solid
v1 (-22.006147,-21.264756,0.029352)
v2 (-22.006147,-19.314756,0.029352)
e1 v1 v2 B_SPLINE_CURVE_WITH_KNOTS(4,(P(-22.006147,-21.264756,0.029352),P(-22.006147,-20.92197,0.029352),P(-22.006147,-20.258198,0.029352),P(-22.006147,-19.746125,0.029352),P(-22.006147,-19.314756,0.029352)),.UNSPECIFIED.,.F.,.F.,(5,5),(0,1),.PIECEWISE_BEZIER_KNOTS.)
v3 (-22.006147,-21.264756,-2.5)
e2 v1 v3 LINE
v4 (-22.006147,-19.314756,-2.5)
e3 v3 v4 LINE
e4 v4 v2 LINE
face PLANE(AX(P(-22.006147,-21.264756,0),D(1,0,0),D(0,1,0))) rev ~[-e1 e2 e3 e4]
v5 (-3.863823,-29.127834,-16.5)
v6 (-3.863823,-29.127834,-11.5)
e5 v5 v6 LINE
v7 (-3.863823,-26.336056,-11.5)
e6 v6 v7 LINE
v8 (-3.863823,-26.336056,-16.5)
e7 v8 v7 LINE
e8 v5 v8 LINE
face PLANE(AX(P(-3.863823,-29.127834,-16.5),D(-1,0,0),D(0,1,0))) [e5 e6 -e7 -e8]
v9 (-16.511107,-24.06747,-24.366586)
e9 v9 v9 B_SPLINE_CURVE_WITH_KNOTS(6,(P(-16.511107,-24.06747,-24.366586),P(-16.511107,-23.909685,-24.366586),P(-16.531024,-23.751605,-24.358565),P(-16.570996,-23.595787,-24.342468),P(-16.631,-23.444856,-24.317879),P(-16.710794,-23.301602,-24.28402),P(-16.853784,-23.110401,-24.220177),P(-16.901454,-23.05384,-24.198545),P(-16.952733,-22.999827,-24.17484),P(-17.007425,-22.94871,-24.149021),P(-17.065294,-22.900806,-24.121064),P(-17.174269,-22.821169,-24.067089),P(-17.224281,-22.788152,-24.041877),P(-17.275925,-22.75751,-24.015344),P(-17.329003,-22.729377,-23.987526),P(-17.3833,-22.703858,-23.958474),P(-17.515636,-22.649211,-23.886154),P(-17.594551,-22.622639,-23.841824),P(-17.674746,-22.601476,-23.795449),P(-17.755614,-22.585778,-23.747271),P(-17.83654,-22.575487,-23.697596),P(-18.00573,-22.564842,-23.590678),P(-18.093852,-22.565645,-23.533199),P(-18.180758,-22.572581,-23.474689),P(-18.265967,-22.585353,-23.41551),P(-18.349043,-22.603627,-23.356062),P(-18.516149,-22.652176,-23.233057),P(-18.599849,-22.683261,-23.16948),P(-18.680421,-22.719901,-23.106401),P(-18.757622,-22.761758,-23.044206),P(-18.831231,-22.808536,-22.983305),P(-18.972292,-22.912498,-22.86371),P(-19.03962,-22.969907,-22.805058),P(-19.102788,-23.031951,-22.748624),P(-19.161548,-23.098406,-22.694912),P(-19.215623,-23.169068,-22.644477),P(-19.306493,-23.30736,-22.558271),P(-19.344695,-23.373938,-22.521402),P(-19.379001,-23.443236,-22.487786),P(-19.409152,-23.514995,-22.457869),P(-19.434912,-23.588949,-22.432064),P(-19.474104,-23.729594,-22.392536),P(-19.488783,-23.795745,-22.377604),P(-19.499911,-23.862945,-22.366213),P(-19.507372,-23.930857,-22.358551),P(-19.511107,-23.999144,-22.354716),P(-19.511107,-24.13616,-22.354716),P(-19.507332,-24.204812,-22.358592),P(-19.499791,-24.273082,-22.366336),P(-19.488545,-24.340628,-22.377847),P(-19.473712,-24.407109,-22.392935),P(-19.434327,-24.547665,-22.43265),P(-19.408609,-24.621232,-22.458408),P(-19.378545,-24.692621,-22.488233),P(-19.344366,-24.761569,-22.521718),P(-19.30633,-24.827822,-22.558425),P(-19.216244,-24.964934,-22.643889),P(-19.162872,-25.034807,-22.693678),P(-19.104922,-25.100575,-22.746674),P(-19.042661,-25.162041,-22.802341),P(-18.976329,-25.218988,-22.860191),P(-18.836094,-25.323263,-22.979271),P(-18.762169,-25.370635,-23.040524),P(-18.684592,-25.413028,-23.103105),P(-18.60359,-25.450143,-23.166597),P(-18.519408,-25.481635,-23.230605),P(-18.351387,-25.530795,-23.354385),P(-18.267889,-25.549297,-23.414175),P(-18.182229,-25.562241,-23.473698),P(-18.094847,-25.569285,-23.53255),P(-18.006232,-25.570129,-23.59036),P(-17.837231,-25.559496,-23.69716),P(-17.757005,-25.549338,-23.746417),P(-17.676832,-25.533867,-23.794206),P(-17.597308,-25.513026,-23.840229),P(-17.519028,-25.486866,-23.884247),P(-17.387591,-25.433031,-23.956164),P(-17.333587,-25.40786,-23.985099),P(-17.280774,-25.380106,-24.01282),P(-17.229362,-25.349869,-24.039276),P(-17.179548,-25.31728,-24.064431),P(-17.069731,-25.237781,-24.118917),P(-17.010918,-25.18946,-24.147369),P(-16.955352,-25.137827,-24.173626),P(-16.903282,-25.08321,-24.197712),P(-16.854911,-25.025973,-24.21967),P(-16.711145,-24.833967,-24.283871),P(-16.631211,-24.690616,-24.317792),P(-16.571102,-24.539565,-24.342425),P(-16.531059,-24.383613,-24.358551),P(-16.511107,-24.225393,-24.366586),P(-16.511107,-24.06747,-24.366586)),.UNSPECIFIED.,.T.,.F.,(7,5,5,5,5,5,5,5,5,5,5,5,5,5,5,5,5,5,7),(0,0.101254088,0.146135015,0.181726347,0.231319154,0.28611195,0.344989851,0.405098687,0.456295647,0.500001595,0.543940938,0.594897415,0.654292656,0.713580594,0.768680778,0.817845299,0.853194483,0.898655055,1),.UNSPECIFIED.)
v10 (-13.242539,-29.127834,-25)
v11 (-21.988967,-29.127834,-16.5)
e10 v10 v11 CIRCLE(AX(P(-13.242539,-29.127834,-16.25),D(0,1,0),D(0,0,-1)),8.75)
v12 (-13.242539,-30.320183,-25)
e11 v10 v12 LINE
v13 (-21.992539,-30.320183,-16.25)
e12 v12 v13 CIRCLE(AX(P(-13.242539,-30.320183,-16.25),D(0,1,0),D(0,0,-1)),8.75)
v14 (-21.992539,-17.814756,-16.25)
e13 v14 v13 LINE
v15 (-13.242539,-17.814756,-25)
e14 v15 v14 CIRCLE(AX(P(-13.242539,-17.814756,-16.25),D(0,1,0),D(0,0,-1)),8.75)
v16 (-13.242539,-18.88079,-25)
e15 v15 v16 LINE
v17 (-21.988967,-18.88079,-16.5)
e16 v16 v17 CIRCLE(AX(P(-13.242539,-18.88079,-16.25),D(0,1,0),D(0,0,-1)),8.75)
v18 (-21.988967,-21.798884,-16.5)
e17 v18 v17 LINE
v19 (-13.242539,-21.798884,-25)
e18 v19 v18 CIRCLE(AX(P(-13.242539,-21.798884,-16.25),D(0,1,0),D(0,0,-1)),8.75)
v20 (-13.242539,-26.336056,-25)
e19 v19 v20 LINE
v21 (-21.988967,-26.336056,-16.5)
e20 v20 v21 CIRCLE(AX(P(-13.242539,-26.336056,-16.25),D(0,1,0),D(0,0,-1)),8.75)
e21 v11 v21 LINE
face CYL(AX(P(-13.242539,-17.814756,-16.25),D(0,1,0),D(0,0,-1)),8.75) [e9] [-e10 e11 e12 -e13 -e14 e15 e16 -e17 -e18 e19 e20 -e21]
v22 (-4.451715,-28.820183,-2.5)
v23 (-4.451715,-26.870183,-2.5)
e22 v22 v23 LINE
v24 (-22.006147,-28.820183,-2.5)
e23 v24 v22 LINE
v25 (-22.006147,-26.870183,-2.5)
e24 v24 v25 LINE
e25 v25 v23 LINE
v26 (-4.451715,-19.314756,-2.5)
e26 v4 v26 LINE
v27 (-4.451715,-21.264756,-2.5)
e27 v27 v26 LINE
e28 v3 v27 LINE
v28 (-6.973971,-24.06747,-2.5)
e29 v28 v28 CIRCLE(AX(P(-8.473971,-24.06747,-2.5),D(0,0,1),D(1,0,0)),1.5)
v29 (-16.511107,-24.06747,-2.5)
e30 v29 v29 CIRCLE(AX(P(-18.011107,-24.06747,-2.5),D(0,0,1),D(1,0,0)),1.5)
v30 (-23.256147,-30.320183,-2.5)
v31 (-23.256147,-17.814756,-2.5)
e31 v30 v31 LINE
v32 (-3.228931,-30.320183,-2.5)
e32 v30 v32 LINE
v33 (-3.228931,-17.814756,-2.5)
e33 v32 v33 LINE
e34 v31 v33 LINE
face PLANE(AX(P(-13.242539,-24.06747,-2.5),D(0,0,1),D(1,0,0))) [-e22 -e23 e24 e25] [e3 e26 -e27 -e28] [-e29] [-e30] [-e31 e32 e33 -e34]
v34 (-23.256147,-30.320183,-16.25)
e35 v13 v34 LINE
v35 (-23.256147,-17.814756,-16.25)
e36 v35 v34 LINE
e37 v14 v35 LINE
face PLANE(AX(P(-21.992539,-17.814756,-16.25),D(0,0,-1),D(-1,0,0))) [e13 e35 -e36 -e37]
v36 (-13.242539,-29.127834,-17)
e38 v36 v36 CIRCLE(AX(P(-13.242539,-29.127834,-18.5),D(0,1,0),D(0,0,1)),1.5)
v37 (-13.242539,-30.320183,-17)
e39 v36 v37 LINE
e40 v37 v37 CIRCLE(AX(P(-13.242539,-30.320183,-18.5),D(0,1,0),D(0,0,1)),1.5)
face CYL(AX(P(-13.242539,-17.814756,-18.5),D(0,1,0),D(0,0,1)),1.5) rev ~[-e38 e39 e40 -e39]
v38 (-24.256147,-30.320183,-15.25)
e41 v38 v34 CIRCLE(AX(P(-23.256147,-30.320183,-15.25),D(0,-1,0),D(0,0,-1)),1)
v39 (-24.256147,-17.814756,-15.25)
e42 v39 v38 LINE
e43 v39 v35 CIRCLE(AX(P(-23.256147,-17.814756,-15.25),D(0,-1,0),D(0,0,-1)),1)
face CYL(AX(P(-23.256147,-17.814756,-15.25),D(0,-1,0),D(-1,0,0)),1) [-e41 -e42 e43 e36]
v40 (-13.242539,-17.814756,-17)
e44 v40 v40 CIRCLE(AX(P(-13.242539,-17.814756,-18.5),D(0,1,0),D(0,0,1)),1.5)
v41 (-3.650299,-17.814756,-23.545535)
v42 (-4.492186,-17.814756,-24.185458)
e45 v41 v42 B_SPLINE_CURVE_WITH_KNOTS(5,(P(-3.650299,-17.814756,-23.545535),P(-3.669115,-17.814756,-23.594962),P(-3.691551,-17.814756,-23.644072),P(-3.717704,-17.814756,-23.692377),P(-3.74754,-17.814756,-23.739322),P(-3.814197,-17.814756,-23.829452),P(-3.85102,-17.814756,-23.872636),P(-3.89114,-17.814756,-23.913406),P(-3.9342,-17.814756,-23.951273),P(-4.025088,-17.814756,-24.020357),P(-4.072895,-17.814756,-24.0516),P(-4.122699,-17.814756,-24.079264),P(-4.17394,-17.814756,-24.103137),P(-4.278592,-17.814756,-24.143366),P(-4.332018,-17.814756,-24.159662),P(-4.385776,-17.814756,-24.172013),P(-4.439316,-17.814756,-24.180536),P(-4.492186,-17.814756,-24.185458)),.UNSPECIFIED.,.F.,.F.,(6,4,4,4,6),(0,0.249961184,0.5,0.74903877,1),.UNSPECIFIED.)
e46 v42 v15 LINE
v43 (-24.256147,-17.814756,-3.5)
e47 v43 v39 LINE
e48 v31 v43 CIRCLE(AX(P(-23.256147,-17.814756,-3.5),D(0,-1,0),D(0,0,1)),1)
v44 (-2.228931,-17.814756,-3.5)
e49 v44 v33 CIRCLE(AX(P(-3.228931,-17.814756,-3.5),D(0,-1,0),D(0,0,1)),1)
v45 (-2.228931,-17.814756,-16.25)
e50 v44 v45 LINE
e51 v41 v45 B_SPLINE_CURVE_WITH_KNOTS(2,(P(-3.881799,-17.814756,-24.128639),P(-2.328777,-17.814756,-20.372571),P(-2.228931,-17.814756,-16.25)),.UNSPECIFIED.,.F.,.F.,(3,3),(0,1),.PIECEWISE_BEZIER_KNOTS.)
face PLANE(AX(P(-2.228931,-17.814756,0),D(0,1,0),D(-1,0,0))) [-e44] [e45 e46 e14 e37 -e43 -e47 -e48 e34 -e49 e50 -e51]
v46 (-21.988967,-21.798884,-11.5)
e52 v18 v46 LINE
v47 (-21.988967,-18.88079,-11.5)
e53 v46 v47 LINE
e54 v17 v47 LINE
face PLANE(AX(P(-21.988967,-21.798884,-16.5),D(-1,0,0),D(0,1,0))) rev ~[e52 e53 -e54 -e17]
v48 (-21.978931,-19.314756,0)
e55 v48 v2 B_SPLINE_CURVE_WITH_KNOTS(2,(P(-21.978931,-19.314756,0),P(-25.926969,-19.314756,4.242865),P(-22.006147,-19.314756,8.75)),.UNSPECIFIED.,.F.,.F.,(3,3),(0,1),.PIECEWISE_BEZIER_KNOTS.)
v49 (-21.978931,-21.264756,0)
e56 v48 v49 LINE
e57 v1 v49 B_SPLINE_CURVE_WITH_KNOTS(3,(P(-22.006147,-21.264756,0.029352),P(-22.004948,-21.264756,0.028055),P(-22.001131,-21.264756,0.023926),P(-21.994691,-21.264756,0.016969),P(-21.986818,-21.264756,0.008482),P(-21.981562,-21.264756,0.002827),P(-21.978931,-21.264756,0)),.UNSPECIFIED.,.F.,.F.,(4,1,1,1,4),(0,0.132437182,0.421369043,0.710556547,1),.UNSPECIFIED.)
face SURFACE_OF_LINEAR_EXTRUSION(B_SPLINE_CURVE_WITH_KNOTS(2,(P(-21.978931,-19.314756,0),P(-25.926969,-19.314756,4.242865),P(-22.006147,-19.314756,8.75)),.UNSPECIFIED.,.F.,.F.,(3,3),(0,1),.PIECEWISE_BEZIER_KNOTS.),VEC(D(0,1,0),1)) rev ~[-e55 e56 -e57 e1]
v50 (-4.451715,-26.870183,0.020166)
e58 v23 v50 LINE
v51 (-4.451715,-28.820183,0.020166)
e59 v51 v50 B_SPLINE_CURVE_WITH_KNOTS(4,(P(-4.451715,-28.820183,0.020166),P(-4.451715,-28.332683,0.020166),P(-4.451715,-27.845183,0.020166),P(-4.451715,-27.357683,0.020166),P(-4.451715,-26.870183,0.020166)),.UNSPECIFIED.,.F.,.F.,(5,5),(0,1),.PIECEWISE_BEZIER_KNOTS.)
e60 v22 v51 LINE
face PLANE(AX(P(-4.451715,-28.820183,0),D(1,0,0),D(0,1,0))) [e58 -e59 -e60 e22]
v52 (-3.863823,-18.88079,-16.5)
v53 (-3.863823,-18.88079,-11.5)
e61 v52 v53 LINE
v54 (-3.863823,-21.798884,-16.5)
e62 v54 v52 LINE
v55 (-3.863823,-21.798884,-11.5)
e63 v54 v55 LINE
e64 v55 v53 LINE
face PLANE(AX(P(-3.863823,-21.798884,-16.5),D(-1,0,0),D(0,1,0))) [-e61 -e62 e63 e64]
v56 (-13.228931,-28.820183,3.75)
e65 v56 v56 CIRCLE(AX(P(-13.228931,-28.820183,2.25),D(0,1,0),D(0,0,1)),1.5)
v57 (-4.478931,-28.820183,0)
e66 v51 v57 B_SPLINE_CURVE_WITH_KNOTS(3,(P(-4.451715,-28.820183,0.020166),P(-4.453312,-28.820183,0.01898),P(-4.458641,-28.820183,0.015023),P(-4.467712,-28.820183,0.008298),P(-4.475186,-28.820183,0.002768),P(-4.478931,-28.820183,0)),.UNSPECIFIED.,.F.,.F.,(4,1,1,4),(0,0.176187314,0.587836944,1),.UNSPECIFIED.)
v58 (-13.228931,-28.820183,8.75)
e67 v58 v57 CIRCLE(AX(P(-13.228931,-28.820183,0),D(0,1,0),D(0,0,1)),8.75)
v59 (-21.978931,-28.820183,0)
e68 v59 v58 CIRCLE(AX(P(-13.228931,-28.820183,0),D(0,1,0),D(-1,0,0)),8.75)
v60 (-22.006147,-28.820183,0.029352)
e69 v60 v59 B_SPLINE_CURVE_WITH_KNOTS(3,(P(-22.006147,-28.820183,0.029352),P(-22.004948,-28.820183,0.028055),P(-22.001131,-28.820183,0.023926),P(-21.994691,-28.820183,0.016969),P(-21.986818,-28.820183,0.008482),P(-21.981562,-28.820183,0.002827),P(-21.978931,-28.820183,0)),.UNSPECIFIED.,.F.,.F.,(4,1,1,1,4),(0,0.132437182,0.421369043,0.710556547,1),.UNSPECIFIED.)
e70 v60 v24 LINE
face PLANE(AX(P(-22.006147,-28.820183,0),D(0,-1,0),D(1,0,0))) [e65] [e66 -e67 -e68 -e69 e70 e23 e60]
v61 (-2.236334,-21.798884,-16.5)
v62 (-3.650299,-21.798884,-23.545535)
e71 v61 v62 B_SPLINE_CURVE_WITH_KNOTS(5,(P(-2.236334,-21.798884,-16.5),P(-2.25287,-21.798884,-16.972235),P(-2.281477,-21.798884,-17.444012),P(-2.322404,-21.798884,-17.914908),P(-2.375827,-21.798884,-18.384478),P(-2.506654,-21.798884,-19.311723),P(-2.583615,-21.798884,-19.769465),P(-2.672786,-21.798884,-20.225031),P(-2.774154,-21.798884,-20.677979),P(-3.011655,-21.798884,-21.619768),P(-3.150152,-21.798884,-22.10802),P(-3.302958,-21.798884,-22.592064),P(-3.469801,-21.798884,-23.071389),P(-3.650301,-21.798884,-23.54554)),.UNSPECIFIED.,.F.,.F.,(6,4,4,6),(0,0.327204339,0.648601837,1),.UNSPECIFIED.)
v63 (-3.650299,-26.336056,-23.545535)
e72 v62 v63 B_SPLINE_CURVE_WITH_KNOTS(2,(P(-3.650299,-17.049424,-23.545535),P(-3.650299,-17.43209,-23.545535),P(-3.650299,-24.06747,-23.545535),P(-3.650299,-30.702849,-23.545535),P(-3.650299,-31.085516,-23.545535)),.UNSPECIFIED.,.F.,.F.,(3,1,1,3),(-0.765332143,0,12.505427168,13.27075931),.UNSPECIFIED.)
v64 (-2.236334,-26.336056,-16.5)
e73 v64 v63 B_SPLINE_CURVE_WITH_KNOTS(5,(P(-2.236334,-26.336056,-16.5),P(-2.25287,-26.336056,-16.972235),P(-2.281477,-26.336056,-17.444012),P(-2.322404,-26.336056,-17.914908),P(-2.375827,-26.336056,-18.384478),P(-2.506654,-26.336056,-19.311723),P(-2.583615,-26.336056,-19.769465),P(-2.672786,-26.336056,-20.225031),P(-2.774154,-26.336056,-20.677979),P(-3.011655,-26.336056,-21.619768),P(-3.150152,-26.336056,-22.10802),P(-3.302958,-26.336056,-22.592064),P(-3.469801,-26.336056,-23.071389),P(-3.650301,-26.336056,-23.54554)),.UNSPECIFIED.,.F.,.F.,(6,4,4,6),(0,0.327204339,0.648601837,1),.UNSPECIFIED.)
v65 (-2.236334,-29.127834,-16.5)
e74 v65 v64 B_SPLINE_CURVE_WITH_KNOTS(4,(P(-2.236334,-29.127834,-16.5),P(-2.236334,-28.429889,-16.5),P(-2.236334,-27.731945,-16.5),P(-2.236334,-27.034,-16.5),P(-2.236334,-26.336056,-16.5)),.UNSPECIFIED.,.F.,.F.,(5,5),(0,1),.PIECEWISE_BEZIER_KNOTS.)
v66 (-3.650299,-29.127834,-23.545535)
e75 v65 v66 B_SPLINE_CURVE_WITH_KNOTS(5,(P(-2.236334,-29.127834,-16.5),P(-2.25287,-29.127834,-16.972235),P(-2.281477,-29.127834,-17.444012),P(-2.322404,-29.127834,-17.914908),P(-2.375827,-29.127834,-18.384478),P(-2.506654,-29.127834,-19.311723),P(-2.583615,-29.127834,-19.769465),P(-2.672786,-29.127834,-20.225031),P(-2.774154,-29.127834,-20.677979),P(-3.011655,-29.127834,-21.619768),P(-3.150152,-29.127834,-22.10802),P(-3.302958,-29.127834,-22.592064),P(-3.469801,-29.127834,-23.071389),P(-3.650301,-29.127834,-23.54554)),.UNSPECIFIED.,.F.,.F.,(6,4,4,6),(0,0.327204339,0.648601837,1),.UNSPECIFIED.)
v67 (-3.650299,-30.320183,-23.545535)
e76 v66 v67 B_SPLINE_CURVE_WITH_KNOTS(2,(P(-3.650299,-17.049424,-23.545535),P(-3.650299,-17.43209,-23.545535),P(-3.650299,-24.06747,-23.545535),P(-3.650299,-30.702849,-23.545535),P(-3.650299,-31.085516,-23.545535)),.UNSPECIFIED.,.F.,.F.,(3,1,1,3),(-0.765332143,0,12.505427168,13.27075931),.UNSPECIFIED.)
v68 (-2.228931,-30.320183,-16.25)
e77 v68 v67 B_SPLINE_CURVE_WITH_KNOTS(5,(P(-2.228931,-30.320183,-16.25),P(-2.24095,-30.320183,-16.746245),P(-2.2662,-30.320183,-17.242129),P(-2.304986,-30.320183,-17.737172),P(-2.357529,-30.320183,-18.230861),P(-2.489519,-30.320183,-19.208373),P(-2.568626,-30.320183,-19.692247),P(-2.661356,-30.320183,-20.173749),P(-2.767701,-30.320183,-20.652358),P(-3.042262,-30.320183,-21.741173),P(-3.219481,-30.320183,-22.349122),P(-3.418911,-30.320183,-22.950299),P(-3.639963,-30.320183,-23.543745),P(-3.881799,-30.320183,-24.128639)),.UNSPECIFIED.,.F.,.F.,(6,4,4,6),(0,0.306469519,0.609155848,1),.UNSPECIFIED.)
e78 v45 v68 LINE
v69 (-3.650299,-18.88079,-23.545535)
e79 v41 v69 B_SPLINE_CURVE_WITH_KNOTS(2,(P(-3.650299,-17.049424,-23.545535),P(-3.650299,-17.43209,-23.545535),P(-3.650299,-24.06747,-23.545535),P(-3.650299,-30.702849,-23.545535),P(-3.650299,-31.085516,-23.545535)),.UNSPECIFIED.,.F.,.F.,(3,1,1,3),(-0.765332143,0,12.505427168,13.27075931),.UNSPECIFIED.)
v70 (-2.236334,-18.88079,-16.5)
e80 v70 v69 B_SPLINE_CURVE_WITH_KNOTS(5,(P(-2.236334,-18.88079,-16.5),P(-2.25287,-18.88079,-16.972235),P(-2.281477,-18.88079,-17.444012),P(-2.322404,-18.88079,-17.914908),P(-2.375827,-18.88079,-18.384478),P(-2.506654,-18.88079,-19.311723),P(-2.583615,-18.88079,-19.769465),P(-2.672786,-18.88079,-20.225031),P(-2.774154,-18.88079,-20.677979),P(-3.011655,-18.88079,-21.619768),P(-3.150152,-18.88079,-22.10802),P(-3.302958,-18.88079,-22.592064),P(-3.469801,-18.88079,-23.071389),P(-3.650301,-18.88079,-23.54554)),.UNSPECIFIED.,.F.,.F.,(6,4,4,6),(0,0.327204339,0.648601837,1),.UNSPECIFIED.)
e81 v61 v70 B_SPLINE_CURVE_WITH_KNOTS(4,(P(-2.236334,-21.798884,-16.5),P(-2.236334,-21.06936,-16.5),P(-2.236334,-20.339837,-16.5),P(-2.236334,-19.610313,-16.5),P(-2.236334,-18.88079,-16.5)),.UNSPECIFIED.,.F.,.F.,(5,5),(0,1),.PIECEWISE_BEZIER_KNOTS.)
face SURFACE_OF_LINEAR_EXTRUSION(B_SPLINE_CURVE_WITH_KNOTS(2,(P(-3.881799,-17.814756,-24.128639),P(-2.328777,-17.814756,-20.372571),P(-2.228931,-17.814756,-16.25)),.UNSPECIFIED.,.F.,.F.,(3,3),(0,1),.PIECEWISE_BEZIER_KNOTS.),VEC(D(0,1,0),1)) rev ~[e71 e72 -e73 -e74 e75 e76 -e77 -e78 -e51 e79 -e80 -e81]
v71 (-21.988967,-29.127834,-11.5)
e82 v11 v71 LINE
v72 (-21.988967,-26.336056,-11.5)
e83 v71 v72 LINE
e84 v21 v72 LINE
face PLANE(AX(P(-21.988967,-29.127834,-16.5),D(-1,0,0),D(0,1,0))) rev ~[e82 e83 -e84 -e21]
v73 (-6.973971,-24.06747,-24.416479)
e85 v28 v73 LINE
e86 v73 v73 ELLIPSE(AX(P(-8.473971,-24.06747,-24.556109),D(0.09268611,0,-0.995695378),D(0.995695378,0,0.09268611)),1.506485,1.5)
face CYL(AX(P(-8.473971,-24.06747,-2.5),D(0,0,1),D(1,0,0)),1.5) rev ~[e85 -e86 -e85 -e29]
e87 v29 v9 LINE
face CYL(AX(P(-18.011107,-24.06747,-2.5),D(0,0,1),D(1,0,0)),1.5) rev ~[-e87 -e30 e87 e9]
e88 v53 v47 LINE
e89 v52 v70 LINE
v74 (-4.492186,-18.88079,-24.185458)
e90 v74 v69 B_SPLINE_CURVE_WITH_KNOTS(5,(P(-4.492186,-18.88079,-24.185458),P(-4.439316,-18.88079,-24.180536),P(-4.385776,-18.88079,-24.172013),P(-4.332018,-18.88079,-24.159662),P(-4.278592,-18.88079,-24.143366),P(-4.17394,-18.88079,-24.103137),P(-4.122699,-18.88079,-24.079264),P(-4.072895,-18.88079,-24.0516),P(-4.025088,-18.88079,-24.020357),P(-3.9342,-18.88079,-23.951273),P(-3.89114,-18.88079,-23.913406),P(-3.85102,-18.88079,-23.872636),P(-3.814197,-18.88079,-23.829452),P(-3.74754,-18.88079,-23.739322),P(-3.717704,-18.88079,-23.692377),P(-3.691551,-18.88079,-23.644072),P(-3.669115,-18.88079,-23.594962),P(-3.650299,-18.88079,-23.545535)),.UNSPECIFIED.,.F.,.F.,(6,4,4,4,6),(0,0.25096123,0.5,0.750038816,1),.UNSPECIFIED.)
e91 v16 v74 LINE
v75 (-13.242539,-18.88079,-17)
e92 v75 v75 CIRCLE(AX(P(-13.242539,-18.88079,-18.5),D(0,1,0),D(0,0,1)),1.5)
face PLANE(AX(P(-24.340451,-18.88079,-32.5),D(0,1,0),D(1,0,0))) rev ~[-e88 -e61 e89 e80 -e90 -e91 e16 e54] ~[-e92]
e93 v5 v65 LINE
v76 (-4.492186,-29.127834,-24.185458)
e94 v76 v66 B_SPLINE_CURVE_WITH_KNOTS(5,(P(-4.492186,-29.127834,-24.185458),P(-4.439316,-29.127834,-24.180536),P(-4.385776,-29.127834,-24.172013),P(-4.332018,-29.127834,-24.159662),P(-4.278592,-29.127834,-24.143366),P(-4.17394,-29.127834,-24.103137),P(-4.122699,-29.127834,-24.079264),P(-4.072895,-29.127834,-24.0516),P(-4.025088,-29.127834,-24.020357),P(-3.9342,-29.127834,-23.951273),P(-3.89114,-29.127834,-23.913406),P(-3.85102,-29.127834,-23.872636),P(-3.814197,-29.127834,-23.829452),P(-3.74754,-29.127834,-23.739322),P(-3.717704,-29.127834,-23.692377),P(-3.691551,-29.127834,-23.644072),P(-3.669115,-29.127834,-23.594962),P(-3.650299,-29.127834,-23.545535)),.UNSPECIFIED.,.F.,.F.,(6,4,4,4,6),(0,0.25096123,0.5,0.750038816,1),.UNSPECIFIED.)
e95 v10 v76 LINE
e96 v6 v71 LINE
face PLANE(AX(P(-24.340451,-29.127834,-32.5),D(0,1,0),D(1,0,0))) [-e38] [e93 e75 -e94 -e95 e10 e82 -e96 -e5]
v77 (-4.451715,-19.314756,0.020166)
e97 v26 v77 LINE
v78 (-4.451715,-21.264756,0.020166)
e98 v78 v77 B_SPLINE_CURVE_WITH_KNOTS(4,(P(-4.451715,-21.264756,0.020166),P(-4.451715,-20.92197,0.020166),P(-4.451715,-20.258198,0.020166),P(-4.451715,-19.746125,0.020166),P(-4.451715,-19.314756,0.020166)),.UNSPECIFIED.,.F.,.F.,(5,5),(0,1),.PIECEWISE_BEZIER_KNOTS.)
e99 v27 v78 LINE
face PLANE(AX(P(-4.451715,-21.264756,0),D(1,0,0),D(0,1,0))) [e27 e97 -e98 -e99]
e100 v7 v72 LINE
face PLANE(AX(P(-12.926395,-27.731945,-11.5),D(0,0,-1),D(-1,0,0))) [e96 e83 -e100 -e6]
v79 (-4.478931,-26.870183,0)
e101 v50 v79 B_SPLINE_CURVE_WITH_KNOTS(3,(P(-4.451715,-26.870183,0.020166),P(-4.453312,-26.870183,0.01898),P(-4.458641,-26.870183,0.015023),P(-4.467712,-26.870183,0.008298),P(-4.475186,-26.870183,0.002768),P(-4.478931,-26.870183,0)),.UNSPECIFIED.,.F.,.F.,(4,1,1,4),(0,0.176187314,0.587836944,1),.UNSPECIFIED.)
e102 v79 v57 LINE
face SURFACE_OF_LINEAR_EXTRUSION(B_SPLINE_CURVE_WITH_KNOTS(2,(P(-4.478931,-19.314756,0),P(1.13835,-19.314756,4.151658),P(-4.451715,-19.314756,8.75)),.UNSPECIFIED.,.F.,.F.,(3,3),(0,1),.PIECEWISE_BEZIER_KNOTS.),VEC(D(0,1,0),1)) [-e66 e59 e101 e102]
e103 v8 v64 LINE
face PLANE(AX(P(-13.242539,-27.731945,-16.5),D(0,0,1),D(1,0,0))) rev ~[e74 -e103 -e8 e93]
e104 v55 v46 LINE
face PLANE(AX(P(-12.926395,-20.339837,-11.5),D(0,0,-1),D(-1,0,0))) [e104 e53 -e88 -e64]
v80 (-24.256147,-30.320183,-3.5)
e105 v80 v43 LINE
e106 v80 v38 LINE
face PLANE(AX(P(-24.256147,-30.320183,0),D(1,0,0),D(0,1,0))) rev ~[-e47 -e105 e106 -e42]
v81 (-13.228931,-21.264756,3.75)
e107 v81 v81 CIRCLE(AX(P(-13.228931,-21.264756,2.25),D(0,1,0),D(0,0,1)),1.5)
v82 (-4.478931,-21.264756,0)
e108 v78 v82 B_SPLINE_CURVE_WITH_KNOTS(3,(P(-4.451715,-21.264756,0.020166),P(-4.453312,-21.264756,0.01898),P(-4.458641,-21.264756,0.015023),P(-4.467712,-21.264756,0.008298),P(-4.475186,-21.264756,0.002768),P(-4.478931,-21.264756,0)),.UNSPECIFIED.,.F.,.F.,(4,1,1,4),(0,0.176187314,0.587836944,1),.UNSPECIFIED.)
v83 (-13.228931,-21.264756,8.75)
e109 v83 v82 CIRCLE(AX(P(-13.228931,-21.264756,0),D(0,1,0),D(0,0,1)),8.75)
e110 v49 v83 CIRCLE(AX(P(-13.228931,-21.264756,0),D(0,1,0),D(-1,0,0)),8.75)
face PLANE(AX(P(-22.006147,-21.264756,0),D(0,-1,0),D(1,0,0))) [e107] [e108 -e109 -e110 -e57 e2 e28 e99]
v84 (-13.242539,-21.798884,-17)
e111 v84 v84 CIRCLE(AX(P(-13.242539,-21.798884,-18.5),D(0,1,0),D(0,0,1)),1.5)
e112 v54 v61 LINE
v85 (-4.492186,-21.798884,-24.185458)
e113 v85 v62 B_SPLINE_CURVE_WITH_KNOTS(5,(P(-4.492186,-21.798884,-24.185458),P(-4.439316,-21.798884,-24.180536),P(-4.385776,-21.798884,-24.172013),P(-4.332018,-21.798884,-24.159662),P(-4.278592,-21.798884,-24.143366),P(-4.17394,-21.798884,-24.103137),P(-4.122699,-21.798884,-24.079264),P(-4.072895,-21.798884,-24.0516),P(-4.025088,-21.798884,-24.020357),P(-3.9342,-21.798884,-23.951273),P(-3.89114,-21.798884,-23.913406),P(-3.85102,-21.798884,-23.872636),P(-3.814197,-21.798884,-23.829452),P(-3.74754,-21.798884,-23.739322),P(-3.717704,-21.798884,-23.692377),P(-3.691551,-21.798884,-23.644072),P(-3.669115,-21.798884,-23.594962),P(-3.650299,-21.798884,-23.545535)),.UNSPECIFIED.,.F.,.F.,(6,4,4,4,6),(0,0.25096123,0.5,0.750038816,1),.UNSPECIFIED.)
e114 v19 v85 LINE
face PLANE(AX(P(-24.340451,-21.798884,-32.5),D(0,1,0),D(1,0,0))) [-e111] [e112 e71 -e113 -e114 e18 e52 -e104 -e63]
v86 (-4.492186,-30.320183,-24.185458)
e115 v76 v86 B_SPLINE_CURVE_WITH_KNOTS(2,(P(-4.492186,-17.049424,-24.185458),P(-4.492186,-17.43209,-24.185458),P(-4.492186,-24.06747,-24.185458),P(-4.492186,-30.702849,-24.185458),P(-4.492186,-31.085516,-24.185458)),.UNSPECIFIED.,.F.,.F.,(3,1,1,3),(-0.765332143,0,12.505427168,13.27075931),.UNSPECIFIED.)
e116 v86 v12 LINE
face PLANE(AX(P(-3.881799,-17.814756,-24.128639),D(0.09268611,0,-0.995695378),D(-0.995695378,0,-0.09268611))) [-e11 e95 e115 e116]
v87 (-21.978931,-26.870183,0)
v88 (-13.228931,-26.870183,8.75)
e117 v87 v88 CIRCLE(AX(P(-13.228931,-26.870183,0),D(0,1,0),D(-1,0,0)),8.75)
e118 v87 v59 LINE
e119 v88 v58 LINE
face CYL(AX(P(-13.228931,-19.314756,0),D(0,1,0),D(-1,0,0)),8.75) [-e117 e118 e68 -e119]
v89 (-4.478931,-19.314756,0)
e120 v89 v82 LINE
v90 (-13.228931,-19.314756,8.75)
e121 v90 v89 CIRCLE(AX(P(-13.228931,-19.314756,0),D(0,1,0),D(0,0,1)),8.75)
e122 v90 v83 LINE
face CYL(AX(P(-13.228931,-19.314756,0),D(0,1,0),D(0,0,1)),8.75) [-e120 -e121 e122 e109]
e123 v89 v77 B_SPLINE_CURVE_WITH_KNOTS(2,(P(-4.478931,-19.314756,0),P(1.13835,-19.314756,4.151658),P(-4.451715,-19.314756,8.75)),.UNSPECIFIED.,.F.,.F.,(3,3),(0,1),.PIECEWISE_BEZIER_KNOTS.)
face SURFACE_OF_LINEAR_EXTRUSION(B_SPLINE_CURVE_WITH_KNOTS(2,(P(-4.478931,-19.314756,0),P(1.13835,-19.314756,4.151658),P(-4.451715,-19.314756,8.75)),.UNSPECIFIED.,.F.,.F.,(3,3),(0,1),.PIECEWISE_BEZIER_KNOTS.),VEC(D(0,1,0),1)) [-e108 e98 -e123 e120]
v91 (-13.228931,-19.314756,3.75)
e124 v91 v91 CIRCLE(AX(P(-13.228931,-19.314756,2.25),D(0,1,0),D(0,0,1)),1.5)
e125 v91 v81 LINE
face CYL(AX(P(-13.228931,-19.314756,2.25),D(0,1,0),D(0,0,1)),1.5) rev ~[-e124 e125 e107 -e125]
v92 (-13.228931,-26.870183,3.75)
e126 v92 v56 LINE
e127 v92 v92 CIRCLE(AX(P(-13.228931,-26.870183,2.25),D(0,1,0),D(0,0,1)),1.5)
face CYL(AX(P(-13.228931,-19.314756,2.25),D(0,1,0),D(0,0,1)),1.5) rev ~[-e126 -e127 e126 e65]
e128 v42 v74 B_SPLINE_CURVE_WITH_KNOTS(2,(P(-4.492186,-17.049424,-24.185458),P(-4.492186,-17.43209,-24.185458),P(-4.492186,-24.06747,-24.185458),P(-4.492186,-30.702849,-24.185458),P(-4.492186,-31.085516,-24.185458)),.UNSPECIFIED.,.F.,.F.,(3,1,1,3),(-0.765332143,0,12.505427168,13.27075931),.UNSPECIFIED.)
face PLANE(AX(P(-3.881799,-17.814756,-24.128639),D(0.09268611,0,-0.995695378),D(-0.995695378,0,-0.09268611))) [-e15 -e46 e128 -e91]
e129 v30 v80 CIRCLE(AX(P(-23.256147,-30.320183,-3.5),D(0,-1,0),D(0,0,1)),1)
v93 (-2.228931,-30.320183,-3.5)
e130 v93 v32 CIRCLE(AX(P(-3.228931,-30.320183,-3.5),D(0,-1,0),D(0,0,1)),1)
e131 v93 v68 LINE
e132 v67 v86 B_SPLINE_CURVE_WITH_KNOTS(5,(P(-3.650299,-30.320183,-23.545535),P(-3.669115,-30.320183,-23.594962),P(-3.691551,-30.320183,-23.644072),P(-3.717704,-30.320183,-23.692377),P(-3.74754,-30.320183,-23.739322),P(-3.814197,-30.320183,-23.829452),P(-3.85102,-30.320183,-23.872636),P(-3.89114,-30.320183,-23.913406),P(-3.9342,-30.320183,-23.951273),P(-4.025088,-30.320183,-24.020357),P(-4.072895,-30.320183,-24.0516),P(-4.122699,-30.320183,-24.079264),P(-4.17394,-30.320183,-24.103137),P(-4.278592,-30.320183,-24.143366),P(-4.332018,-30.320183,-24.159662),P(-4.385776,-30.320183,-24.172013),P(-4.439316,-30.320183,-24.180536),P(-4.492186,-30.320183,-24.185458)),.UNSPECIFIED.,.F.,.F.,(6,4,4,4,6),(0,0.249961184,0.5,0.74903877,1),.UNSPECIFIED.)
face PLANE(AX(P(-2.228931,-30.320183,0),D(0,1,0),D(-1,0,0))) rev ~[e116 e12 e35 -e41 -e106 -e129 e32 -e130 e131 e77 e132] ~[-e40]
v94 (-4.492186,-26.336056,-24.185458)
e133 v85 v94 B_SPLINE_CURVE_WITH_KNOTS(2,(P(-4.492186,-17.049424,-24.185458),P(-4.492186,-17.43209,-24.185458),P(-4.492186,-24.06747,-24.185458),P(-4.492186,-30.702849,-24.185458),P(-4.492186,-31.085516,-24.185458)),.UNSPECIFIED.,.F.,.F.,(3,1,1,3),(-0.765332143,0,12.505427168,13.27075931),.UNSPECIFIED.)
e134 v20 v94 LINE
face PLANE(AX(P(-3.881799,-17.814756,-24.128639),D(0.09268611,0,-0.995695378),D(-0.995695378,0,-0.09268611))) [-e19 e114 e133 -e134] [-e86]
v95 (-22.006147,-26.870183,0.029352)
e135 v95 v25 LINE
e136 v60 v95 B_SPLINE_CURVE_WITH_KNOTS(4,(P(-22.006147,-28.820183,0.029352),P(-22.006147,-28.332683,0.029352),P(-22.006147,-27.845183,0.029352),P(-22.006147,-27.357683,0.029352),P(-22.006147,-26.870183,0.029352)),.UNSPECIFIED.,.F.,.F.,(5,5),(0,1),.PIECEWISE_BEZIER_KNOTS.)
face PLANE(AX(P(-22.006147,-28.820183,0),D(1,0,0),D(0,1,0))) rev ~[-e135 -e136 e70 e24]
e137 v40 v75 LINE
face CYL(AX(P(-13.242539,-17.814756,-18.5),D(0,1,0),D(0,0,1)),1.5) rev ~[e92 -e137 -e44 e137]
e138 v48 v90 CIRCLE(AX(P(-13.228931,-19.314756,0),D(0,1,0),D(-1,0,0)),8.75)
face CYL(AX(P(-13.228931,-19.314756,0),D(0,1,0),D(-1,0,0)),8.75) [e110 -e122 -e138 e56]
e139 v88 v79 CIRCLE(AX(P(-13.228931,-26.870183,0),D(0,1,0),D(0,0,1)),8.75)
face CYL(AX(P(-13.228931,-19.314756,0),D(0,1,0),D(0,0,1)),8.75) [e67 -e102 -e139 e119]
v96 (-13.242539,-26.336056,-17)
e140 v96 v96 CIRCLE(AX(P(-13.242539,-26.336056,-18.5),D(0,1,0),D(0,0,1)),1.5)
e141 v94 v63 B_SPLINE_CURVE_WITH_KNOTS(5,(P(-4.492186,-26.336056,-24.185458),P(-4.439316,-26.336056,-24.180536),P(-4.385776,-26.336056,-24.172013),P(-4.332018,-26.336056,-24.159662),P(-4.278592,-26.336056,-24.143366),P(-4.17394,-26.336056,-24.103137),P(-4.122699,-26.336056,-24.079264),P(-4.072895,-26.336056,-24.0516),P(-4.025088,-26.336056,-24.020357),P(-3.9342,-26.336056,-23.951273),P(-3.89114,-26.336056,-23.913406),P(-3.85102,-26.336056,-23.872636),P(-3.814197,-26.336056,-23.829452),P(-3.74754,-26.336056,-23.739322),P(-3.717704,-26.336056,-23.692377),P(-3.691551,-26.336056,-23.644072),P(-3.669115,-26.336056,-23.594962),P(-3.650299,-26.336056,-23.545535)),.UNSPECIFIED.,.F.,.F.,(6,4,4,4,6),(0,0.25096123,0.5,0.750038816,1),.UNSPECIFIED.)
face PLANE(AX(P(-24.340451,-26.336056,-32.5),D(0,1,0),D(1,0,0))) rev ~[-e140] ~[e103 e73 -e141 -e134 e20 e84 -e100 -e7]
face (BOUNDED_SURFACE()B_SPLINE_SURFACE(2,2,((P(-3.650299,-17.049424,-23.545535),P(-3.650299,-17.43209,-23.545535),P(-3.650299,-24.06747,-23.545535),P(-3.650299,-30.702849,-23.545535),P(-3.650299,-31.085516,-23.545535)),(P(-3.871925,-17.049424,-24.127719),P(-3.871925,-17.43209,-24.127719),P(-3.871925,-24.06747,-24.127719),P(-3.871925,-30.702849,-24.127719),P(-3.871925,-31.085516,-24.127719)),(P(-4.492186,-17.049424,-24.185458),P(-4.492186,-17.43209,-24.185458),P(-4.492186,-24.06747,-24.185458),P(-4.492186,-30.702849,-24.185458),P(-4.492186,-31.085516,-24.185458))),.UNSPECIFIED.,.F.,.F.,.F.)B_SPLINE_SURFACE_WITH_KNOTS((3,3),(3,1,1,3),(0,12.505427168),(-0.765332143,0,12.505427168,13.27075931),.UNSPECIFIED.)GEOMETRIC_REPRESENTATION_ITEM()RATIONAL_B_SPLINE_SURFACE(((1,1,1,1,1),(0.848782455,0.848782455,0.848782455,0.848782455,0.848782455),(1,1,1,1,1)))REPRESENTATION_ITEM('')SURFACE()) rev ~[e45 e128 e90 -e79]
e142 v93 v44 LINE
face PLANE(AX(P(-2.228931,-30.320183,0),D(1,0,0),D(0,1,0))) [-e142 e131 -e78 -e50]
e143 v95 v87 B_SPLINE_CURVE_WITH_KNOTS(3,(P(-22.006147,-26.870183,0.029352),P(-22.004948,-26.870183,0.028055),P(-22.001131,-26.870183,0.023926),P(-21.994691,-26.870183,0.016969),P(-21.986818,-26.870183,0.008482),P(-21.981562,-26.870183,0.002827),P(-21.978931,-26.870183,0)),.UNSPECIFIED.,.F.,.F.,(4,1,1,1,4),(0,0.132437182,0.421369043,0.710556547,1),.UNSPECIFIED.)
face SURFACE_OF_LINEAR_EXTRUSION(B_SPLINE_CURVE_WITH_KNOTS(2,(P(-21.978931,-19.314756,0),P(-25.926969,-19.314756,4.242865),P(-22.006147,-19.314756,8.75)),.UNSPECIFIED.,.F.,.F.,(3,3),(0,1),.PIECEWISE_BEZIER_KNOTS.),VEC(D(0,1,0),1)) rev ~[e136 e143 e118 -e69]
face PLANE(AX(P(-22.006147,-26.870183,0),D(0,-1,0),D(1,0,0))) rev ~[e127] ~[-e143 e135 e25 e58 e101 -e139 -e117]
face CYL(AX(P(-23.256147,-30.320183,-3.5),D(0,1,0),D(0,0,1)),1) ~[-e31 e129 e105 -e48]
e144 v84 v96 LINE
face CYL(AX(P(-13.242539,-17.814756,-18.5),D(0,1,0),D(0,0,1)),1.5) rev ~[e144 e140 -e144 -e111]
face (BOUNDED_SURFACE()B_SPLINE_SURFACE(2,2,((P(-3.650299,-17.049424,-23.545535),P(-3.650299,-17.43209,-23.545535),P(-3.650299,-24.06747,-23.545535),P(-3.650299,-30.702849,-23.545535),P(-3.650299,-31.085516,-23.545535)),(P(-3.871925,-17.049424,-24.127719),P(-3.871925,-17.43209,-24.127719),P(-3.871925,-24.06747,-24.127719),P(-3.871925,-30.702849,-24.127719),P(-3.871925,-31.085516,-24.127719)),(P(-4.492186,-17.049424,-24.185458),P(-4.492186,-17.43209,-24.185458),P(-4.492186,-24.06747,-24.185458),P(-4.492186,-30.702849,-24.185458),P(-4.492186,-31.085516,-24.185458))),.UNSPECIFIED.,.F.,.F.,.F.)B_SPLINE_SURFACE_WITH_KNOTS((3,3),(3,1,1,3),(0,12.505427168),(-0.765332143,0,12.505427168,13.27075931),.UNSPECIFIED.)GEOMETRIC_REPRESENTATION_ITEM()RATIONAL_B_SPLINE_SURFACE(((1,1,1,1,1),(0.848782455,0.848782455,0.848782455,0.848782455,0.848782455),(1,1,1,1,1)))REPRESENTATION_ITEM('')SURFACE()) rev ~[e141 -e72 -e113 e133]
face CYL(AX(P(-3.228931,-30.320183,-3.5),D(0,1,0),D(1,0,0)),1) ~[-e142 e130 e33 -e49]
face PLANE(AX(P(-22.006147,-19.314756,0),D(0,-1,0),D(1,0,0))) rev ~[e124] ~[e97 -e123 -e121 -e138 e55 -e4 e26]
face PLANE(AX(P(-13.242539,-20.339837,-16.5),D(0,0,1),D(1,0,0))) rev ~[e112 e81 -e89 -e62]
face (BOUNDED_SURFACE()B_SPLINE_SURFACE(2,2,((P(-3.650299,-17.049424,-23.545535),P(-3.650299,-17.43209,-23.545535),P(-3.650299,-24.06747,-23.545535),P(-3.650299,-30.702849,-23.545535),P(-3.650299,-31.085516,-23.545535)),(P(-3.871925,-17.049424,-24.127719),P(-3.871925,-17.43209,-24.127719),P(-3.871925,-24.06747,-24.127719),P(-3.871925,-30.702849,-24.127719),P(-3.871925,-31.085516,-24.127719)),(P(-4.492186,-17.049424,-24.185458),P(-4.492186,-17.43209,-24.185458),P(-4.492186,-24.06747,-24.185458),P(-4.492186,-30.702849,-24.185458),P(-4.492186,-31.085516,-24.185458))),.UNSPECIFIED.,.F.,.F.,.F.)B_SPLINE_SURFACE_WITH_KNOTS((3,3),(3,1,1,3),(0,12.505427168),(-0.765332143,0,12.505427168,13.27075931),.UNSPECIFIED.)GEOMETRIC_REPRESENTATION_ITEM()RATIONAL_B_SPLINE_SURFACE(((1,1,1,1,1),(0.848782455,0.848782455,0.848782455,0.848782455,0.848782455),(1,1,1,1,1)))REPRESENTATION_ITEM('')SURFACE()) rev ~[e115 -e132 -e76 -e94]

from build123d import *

# Parameters (mm, degrees)
SKETCH2_W             = 17.554431489
SKETCH2_H             = 1.95
BOSS_EXTRUDE1_DEPTH   = 8.75
BOSS_EXTRUDE1_2_DEPTH = 8.75
CUT_EXTRUDE1_DEPTH    = 26.518349076
SKETCH4_W             = 22.027215745
SKETCH4_H             = 12.505427167
BOSS_EXTRUDE2_DEPTH   = 25
SKETCH5_R             = 1.5
CUT_EXTRUDE2_DEPTH    = 12
SKETCH6_W             = 22.027215745
SKETCH6_H             = 12.505427167
SKETCH6_W_2           = 17.554431489
SKETCH6_H_2           = 1.95
CUT_EXTRUDE3_DEPTH    = 2.5
SKETCH7_R             = 1.5
CUT_EXTRUDE4_DEPTH    = 13
SKETCH8_R             = 1.5
CUT_EXTRUDE5_DEPTH    = 28
FILLET3_R             = 1
SKETCH9_W             = 22.195824916
SKETCH9_H             = 2.918094069
SKETCH9_H_2           = 2.791777891
CUT_EXTRUDE6_DEPTH    = 16
SKETCH10_W            = 18.125143393
SKETCH10_H            = 2.791777891
SKETCH10_H_2          = 2.918094069
CUT_EXTRUDE7_DEPTH    = 5


with BuildPart() as part:
    # Sketch2 → Boss-Extrude1 (new body)
    with BuildSketch(Plane.XY):
        with Locations((-13.228930986, -27.845183414)):
            Rectangle(SKETCH2_W, SKETCH2_H)
    extrude(amount=BOSS_EXTRUDE1_DEPTH)


with BuildPart() as body_2:
    # Sketch2 → Boss-Extrude1 2 (new body)
    with BuildSketch(Plane.XY):
        with Locations((-13.228930986, -20.289756247)):
            Rectangle(SKETCH2_W, SKETCH2_H)
    extrude(amount=BOSS_EXTRUDE1_2_DEPTH)


with BuildPart() as cut_extrude1_tool:
    # Sketch3 → Cut-Extrude1 (new, through all)
    with BuildSketch(Plane(origin=(0, -19.314756247, 0), x_dir=(1, 0, 0), z_dir=(0, 1, 0))):
        with BuildLine():
            ThreePointArc((-13.228930986, -8.75), (-7.041746651, -6.187184335), (-4.478930986, 0))
            add(Edge.make_bspline(
                [(-4.478930986, 0), (1.138349918, -4.151657709), (-4.451715242, -8.75)],
                knots=[0, 0, 0, 1, 1, 1], degree=2))
            add(Edge.make_bspline(
                [(-22.006146731, -8.75), (-13.228930986, -12.473510392), (-4.451715242, -8.75)],
                knots=[0, 0, 0, 1, 1, 1], degree=2))
            add(Edge.make_bspline(
                [(-21.978930986, 0), (-25.926969228, -4.242865138), (-22.006146731, -8.75)],
                knots=[0, 0, 0, 1, 1, 1], degree=2))
            ThreePointArc((-21.978930986, 0), (-19.416115322, -6.187184335), (-13.228930986, -8.75))
        make_face()
    extrude(amount=-CUT_EXTRUDE1_DEPTH)


with BuildPart() as part_1:
    add(part.part)

    # Cut-Extrude1: cut by cut_extrude1_tool
    add(cut_extrude1_tool.part, mode=Mode.SUBTRACT)



with BuildPart() as body_2_1:
    add(body_2.part)

    # Cut-Extrude1: cut by cut_extrude1_tool
    add(cut_extrude1_tool.part, mode=Mode.SUBTRACT)


with BuildPart() as part_2:
    add(part_1.part)

    add(body_2_1.part)  # Boss-Extrude2 merges body 2
    # Sketch4 → Boss-Extrude2 (add)
    with BuildSketch(Plane(origin=(0, 0, 0), x_dir=(-1, 0, 0), z_dir=(0, 0, -1))):
        with Locations((13.242538859, -24.067469831)):
            Rectangle(SKETCH4_W, SKETCH4_H)
    extrude(amount=BOSS_EXTRUDE2_DEPTH)

    # Sketch5 → Cut-Extrude2 (cut)
    with BuildSketch(Plane(origin=(0, -19.314756247, 0), x_dir=(1, 0, 0), z_dir=(0, 1, 0))):
        with Locations(Location((-13.228930986, -2.25, 0), (0, 0, 270))):
            Circle(SKETCH5_R)
    extrude(amount=-CUT_EXTRUDE2_DEPTH, mode=Mode.SUBTRACT)

    # Sketch6 → Cut-Extrude3 (cut)
    with BuildSketch(Plane.XY):
        with Locations((-13.242538859, -24.067469831)):
            Rectangle(SKETCH6_W, SKETCH6_H)
        with Locations((-13.228930986, -27.845183414)):
            Rectangle(SKETCH6_W_2, SKETCH6_H_2, mode=Mode.SUBTRACT)
        with Locations((-13.228930986, -20.289756247)):
            Rectangle(SKETCH6_W_2, SKETCH6_H_2, mode=Mode.SUBTRACT)
    extrude(amount=-CUT_EXTRUDE3_DEPTH, mode=Mode.SUBTRACT)

    # Sketch7 → Cut-Extrude4 (cut)
    with BuildSketch(Plane(origin=(0, -17.814756247, 0), x_dir=(1, 0, 0), z_dir=(0, 1, 0))):
        with Locations(Location((-13.242538859, 18.5, 0), (0, 0, 270))):
            Circle(SKETCH7_R)
        with BuildLine():
            Line((-21.992538859, 16.25), (-24.256146731, 16.25))
            add(Edge.make_bspline(
                [(-24.256146731, 16.25), (-34.36884236, 22.178246018), (-14.712267615, 52.032901089), (16.629341759, 22.46378621), (-2.228930986, 16.25)],
                knots=[0, 0, 0, 0, 0.431250879, 1, 1, 1, 1], degree=3))
            add(Edge.make_bspline(
                [(-3.881799271, 24.128638582), (-2.328777172, 20.372571126), (-2.228930986, 16.25)],
                knots=[0, 0, 0, 1, 1, 1], degree=2))
            Line((-3.881799271, 24.128638582), (-13.242538859, 25))
            ThreePointArc((-13.242538859, 25), (-19.429723194, 22.437184335), (-21.992538859, 16.25))
        make_face()
    extrude(amount=-CUT_EXTRUDE4_DEPTH, mode=Mode.SUBTRACT)

    # Sketch8 → Cut-Extrude5 (cut)
    with BuildSketch(Plane.XY.offset(-2.5)):
        with Locations((-18.011106811, -24.06746983)):
            Circle(SKETCH8_R)
        with Locations((-8.473970906, -24.06746983)):
            Circle(SKETCH8_R)
    extrude(amount=-CUT_EXTRUDE5_DEPTH, mode=Mode.SUBTRACT)

    # Fillet3
    fillet3_edges = [part_2.edges().sort_by_distance(p)[0] for p in [
        (-24.256146731, -24.06746983, -2.5),
        (-24.256146731, -24.06746983, -16.25),
        (-2.228930986, -24.06746983, -2.5),
        (-3.881799271, -24.06746983, -24.128638582),
    ]]
    fillet(fillet3_edges, radius=FILLET3_R)

    # Sketch9 → Cut-Extrude6 (cut)
    with BuildSketch(Plane.XY.offset(-32.5)):
        with Locations((-13.24253886, -20.339836801)):
            Rectangle(SKETCH9_W, SKETCH9_H)
        with Locations((-13.24253886, -27.73194478)):
            Rectangle(SKETCH9_W, SKETCH9_H_2)
    extrude(amount=CUT_EXTRUDE6_DEPTH, mode=Mode.SUBTRACT)

    # Sketch10 → Cut-Extrude7 (cut)
    with BuildSketch(Plane(origin=(0, 0, -16.5), x_dir=(-1, 0, 0), z_dir=(0, 0, -1))):
        with Locations((12.926395005, -27.73194478)):
            Rectangle(SKETCH10_W, SKETCH10_H)
        with Locations((12.926395005, -20.339836801)):
            Rectangle(SKETCH10_W, SKETCH10_H_2)
    extrude(amount=-CUT_EXTRUDE7_DEPTH, mode=Mode.SUBTRACT)


solid = part_2.part
